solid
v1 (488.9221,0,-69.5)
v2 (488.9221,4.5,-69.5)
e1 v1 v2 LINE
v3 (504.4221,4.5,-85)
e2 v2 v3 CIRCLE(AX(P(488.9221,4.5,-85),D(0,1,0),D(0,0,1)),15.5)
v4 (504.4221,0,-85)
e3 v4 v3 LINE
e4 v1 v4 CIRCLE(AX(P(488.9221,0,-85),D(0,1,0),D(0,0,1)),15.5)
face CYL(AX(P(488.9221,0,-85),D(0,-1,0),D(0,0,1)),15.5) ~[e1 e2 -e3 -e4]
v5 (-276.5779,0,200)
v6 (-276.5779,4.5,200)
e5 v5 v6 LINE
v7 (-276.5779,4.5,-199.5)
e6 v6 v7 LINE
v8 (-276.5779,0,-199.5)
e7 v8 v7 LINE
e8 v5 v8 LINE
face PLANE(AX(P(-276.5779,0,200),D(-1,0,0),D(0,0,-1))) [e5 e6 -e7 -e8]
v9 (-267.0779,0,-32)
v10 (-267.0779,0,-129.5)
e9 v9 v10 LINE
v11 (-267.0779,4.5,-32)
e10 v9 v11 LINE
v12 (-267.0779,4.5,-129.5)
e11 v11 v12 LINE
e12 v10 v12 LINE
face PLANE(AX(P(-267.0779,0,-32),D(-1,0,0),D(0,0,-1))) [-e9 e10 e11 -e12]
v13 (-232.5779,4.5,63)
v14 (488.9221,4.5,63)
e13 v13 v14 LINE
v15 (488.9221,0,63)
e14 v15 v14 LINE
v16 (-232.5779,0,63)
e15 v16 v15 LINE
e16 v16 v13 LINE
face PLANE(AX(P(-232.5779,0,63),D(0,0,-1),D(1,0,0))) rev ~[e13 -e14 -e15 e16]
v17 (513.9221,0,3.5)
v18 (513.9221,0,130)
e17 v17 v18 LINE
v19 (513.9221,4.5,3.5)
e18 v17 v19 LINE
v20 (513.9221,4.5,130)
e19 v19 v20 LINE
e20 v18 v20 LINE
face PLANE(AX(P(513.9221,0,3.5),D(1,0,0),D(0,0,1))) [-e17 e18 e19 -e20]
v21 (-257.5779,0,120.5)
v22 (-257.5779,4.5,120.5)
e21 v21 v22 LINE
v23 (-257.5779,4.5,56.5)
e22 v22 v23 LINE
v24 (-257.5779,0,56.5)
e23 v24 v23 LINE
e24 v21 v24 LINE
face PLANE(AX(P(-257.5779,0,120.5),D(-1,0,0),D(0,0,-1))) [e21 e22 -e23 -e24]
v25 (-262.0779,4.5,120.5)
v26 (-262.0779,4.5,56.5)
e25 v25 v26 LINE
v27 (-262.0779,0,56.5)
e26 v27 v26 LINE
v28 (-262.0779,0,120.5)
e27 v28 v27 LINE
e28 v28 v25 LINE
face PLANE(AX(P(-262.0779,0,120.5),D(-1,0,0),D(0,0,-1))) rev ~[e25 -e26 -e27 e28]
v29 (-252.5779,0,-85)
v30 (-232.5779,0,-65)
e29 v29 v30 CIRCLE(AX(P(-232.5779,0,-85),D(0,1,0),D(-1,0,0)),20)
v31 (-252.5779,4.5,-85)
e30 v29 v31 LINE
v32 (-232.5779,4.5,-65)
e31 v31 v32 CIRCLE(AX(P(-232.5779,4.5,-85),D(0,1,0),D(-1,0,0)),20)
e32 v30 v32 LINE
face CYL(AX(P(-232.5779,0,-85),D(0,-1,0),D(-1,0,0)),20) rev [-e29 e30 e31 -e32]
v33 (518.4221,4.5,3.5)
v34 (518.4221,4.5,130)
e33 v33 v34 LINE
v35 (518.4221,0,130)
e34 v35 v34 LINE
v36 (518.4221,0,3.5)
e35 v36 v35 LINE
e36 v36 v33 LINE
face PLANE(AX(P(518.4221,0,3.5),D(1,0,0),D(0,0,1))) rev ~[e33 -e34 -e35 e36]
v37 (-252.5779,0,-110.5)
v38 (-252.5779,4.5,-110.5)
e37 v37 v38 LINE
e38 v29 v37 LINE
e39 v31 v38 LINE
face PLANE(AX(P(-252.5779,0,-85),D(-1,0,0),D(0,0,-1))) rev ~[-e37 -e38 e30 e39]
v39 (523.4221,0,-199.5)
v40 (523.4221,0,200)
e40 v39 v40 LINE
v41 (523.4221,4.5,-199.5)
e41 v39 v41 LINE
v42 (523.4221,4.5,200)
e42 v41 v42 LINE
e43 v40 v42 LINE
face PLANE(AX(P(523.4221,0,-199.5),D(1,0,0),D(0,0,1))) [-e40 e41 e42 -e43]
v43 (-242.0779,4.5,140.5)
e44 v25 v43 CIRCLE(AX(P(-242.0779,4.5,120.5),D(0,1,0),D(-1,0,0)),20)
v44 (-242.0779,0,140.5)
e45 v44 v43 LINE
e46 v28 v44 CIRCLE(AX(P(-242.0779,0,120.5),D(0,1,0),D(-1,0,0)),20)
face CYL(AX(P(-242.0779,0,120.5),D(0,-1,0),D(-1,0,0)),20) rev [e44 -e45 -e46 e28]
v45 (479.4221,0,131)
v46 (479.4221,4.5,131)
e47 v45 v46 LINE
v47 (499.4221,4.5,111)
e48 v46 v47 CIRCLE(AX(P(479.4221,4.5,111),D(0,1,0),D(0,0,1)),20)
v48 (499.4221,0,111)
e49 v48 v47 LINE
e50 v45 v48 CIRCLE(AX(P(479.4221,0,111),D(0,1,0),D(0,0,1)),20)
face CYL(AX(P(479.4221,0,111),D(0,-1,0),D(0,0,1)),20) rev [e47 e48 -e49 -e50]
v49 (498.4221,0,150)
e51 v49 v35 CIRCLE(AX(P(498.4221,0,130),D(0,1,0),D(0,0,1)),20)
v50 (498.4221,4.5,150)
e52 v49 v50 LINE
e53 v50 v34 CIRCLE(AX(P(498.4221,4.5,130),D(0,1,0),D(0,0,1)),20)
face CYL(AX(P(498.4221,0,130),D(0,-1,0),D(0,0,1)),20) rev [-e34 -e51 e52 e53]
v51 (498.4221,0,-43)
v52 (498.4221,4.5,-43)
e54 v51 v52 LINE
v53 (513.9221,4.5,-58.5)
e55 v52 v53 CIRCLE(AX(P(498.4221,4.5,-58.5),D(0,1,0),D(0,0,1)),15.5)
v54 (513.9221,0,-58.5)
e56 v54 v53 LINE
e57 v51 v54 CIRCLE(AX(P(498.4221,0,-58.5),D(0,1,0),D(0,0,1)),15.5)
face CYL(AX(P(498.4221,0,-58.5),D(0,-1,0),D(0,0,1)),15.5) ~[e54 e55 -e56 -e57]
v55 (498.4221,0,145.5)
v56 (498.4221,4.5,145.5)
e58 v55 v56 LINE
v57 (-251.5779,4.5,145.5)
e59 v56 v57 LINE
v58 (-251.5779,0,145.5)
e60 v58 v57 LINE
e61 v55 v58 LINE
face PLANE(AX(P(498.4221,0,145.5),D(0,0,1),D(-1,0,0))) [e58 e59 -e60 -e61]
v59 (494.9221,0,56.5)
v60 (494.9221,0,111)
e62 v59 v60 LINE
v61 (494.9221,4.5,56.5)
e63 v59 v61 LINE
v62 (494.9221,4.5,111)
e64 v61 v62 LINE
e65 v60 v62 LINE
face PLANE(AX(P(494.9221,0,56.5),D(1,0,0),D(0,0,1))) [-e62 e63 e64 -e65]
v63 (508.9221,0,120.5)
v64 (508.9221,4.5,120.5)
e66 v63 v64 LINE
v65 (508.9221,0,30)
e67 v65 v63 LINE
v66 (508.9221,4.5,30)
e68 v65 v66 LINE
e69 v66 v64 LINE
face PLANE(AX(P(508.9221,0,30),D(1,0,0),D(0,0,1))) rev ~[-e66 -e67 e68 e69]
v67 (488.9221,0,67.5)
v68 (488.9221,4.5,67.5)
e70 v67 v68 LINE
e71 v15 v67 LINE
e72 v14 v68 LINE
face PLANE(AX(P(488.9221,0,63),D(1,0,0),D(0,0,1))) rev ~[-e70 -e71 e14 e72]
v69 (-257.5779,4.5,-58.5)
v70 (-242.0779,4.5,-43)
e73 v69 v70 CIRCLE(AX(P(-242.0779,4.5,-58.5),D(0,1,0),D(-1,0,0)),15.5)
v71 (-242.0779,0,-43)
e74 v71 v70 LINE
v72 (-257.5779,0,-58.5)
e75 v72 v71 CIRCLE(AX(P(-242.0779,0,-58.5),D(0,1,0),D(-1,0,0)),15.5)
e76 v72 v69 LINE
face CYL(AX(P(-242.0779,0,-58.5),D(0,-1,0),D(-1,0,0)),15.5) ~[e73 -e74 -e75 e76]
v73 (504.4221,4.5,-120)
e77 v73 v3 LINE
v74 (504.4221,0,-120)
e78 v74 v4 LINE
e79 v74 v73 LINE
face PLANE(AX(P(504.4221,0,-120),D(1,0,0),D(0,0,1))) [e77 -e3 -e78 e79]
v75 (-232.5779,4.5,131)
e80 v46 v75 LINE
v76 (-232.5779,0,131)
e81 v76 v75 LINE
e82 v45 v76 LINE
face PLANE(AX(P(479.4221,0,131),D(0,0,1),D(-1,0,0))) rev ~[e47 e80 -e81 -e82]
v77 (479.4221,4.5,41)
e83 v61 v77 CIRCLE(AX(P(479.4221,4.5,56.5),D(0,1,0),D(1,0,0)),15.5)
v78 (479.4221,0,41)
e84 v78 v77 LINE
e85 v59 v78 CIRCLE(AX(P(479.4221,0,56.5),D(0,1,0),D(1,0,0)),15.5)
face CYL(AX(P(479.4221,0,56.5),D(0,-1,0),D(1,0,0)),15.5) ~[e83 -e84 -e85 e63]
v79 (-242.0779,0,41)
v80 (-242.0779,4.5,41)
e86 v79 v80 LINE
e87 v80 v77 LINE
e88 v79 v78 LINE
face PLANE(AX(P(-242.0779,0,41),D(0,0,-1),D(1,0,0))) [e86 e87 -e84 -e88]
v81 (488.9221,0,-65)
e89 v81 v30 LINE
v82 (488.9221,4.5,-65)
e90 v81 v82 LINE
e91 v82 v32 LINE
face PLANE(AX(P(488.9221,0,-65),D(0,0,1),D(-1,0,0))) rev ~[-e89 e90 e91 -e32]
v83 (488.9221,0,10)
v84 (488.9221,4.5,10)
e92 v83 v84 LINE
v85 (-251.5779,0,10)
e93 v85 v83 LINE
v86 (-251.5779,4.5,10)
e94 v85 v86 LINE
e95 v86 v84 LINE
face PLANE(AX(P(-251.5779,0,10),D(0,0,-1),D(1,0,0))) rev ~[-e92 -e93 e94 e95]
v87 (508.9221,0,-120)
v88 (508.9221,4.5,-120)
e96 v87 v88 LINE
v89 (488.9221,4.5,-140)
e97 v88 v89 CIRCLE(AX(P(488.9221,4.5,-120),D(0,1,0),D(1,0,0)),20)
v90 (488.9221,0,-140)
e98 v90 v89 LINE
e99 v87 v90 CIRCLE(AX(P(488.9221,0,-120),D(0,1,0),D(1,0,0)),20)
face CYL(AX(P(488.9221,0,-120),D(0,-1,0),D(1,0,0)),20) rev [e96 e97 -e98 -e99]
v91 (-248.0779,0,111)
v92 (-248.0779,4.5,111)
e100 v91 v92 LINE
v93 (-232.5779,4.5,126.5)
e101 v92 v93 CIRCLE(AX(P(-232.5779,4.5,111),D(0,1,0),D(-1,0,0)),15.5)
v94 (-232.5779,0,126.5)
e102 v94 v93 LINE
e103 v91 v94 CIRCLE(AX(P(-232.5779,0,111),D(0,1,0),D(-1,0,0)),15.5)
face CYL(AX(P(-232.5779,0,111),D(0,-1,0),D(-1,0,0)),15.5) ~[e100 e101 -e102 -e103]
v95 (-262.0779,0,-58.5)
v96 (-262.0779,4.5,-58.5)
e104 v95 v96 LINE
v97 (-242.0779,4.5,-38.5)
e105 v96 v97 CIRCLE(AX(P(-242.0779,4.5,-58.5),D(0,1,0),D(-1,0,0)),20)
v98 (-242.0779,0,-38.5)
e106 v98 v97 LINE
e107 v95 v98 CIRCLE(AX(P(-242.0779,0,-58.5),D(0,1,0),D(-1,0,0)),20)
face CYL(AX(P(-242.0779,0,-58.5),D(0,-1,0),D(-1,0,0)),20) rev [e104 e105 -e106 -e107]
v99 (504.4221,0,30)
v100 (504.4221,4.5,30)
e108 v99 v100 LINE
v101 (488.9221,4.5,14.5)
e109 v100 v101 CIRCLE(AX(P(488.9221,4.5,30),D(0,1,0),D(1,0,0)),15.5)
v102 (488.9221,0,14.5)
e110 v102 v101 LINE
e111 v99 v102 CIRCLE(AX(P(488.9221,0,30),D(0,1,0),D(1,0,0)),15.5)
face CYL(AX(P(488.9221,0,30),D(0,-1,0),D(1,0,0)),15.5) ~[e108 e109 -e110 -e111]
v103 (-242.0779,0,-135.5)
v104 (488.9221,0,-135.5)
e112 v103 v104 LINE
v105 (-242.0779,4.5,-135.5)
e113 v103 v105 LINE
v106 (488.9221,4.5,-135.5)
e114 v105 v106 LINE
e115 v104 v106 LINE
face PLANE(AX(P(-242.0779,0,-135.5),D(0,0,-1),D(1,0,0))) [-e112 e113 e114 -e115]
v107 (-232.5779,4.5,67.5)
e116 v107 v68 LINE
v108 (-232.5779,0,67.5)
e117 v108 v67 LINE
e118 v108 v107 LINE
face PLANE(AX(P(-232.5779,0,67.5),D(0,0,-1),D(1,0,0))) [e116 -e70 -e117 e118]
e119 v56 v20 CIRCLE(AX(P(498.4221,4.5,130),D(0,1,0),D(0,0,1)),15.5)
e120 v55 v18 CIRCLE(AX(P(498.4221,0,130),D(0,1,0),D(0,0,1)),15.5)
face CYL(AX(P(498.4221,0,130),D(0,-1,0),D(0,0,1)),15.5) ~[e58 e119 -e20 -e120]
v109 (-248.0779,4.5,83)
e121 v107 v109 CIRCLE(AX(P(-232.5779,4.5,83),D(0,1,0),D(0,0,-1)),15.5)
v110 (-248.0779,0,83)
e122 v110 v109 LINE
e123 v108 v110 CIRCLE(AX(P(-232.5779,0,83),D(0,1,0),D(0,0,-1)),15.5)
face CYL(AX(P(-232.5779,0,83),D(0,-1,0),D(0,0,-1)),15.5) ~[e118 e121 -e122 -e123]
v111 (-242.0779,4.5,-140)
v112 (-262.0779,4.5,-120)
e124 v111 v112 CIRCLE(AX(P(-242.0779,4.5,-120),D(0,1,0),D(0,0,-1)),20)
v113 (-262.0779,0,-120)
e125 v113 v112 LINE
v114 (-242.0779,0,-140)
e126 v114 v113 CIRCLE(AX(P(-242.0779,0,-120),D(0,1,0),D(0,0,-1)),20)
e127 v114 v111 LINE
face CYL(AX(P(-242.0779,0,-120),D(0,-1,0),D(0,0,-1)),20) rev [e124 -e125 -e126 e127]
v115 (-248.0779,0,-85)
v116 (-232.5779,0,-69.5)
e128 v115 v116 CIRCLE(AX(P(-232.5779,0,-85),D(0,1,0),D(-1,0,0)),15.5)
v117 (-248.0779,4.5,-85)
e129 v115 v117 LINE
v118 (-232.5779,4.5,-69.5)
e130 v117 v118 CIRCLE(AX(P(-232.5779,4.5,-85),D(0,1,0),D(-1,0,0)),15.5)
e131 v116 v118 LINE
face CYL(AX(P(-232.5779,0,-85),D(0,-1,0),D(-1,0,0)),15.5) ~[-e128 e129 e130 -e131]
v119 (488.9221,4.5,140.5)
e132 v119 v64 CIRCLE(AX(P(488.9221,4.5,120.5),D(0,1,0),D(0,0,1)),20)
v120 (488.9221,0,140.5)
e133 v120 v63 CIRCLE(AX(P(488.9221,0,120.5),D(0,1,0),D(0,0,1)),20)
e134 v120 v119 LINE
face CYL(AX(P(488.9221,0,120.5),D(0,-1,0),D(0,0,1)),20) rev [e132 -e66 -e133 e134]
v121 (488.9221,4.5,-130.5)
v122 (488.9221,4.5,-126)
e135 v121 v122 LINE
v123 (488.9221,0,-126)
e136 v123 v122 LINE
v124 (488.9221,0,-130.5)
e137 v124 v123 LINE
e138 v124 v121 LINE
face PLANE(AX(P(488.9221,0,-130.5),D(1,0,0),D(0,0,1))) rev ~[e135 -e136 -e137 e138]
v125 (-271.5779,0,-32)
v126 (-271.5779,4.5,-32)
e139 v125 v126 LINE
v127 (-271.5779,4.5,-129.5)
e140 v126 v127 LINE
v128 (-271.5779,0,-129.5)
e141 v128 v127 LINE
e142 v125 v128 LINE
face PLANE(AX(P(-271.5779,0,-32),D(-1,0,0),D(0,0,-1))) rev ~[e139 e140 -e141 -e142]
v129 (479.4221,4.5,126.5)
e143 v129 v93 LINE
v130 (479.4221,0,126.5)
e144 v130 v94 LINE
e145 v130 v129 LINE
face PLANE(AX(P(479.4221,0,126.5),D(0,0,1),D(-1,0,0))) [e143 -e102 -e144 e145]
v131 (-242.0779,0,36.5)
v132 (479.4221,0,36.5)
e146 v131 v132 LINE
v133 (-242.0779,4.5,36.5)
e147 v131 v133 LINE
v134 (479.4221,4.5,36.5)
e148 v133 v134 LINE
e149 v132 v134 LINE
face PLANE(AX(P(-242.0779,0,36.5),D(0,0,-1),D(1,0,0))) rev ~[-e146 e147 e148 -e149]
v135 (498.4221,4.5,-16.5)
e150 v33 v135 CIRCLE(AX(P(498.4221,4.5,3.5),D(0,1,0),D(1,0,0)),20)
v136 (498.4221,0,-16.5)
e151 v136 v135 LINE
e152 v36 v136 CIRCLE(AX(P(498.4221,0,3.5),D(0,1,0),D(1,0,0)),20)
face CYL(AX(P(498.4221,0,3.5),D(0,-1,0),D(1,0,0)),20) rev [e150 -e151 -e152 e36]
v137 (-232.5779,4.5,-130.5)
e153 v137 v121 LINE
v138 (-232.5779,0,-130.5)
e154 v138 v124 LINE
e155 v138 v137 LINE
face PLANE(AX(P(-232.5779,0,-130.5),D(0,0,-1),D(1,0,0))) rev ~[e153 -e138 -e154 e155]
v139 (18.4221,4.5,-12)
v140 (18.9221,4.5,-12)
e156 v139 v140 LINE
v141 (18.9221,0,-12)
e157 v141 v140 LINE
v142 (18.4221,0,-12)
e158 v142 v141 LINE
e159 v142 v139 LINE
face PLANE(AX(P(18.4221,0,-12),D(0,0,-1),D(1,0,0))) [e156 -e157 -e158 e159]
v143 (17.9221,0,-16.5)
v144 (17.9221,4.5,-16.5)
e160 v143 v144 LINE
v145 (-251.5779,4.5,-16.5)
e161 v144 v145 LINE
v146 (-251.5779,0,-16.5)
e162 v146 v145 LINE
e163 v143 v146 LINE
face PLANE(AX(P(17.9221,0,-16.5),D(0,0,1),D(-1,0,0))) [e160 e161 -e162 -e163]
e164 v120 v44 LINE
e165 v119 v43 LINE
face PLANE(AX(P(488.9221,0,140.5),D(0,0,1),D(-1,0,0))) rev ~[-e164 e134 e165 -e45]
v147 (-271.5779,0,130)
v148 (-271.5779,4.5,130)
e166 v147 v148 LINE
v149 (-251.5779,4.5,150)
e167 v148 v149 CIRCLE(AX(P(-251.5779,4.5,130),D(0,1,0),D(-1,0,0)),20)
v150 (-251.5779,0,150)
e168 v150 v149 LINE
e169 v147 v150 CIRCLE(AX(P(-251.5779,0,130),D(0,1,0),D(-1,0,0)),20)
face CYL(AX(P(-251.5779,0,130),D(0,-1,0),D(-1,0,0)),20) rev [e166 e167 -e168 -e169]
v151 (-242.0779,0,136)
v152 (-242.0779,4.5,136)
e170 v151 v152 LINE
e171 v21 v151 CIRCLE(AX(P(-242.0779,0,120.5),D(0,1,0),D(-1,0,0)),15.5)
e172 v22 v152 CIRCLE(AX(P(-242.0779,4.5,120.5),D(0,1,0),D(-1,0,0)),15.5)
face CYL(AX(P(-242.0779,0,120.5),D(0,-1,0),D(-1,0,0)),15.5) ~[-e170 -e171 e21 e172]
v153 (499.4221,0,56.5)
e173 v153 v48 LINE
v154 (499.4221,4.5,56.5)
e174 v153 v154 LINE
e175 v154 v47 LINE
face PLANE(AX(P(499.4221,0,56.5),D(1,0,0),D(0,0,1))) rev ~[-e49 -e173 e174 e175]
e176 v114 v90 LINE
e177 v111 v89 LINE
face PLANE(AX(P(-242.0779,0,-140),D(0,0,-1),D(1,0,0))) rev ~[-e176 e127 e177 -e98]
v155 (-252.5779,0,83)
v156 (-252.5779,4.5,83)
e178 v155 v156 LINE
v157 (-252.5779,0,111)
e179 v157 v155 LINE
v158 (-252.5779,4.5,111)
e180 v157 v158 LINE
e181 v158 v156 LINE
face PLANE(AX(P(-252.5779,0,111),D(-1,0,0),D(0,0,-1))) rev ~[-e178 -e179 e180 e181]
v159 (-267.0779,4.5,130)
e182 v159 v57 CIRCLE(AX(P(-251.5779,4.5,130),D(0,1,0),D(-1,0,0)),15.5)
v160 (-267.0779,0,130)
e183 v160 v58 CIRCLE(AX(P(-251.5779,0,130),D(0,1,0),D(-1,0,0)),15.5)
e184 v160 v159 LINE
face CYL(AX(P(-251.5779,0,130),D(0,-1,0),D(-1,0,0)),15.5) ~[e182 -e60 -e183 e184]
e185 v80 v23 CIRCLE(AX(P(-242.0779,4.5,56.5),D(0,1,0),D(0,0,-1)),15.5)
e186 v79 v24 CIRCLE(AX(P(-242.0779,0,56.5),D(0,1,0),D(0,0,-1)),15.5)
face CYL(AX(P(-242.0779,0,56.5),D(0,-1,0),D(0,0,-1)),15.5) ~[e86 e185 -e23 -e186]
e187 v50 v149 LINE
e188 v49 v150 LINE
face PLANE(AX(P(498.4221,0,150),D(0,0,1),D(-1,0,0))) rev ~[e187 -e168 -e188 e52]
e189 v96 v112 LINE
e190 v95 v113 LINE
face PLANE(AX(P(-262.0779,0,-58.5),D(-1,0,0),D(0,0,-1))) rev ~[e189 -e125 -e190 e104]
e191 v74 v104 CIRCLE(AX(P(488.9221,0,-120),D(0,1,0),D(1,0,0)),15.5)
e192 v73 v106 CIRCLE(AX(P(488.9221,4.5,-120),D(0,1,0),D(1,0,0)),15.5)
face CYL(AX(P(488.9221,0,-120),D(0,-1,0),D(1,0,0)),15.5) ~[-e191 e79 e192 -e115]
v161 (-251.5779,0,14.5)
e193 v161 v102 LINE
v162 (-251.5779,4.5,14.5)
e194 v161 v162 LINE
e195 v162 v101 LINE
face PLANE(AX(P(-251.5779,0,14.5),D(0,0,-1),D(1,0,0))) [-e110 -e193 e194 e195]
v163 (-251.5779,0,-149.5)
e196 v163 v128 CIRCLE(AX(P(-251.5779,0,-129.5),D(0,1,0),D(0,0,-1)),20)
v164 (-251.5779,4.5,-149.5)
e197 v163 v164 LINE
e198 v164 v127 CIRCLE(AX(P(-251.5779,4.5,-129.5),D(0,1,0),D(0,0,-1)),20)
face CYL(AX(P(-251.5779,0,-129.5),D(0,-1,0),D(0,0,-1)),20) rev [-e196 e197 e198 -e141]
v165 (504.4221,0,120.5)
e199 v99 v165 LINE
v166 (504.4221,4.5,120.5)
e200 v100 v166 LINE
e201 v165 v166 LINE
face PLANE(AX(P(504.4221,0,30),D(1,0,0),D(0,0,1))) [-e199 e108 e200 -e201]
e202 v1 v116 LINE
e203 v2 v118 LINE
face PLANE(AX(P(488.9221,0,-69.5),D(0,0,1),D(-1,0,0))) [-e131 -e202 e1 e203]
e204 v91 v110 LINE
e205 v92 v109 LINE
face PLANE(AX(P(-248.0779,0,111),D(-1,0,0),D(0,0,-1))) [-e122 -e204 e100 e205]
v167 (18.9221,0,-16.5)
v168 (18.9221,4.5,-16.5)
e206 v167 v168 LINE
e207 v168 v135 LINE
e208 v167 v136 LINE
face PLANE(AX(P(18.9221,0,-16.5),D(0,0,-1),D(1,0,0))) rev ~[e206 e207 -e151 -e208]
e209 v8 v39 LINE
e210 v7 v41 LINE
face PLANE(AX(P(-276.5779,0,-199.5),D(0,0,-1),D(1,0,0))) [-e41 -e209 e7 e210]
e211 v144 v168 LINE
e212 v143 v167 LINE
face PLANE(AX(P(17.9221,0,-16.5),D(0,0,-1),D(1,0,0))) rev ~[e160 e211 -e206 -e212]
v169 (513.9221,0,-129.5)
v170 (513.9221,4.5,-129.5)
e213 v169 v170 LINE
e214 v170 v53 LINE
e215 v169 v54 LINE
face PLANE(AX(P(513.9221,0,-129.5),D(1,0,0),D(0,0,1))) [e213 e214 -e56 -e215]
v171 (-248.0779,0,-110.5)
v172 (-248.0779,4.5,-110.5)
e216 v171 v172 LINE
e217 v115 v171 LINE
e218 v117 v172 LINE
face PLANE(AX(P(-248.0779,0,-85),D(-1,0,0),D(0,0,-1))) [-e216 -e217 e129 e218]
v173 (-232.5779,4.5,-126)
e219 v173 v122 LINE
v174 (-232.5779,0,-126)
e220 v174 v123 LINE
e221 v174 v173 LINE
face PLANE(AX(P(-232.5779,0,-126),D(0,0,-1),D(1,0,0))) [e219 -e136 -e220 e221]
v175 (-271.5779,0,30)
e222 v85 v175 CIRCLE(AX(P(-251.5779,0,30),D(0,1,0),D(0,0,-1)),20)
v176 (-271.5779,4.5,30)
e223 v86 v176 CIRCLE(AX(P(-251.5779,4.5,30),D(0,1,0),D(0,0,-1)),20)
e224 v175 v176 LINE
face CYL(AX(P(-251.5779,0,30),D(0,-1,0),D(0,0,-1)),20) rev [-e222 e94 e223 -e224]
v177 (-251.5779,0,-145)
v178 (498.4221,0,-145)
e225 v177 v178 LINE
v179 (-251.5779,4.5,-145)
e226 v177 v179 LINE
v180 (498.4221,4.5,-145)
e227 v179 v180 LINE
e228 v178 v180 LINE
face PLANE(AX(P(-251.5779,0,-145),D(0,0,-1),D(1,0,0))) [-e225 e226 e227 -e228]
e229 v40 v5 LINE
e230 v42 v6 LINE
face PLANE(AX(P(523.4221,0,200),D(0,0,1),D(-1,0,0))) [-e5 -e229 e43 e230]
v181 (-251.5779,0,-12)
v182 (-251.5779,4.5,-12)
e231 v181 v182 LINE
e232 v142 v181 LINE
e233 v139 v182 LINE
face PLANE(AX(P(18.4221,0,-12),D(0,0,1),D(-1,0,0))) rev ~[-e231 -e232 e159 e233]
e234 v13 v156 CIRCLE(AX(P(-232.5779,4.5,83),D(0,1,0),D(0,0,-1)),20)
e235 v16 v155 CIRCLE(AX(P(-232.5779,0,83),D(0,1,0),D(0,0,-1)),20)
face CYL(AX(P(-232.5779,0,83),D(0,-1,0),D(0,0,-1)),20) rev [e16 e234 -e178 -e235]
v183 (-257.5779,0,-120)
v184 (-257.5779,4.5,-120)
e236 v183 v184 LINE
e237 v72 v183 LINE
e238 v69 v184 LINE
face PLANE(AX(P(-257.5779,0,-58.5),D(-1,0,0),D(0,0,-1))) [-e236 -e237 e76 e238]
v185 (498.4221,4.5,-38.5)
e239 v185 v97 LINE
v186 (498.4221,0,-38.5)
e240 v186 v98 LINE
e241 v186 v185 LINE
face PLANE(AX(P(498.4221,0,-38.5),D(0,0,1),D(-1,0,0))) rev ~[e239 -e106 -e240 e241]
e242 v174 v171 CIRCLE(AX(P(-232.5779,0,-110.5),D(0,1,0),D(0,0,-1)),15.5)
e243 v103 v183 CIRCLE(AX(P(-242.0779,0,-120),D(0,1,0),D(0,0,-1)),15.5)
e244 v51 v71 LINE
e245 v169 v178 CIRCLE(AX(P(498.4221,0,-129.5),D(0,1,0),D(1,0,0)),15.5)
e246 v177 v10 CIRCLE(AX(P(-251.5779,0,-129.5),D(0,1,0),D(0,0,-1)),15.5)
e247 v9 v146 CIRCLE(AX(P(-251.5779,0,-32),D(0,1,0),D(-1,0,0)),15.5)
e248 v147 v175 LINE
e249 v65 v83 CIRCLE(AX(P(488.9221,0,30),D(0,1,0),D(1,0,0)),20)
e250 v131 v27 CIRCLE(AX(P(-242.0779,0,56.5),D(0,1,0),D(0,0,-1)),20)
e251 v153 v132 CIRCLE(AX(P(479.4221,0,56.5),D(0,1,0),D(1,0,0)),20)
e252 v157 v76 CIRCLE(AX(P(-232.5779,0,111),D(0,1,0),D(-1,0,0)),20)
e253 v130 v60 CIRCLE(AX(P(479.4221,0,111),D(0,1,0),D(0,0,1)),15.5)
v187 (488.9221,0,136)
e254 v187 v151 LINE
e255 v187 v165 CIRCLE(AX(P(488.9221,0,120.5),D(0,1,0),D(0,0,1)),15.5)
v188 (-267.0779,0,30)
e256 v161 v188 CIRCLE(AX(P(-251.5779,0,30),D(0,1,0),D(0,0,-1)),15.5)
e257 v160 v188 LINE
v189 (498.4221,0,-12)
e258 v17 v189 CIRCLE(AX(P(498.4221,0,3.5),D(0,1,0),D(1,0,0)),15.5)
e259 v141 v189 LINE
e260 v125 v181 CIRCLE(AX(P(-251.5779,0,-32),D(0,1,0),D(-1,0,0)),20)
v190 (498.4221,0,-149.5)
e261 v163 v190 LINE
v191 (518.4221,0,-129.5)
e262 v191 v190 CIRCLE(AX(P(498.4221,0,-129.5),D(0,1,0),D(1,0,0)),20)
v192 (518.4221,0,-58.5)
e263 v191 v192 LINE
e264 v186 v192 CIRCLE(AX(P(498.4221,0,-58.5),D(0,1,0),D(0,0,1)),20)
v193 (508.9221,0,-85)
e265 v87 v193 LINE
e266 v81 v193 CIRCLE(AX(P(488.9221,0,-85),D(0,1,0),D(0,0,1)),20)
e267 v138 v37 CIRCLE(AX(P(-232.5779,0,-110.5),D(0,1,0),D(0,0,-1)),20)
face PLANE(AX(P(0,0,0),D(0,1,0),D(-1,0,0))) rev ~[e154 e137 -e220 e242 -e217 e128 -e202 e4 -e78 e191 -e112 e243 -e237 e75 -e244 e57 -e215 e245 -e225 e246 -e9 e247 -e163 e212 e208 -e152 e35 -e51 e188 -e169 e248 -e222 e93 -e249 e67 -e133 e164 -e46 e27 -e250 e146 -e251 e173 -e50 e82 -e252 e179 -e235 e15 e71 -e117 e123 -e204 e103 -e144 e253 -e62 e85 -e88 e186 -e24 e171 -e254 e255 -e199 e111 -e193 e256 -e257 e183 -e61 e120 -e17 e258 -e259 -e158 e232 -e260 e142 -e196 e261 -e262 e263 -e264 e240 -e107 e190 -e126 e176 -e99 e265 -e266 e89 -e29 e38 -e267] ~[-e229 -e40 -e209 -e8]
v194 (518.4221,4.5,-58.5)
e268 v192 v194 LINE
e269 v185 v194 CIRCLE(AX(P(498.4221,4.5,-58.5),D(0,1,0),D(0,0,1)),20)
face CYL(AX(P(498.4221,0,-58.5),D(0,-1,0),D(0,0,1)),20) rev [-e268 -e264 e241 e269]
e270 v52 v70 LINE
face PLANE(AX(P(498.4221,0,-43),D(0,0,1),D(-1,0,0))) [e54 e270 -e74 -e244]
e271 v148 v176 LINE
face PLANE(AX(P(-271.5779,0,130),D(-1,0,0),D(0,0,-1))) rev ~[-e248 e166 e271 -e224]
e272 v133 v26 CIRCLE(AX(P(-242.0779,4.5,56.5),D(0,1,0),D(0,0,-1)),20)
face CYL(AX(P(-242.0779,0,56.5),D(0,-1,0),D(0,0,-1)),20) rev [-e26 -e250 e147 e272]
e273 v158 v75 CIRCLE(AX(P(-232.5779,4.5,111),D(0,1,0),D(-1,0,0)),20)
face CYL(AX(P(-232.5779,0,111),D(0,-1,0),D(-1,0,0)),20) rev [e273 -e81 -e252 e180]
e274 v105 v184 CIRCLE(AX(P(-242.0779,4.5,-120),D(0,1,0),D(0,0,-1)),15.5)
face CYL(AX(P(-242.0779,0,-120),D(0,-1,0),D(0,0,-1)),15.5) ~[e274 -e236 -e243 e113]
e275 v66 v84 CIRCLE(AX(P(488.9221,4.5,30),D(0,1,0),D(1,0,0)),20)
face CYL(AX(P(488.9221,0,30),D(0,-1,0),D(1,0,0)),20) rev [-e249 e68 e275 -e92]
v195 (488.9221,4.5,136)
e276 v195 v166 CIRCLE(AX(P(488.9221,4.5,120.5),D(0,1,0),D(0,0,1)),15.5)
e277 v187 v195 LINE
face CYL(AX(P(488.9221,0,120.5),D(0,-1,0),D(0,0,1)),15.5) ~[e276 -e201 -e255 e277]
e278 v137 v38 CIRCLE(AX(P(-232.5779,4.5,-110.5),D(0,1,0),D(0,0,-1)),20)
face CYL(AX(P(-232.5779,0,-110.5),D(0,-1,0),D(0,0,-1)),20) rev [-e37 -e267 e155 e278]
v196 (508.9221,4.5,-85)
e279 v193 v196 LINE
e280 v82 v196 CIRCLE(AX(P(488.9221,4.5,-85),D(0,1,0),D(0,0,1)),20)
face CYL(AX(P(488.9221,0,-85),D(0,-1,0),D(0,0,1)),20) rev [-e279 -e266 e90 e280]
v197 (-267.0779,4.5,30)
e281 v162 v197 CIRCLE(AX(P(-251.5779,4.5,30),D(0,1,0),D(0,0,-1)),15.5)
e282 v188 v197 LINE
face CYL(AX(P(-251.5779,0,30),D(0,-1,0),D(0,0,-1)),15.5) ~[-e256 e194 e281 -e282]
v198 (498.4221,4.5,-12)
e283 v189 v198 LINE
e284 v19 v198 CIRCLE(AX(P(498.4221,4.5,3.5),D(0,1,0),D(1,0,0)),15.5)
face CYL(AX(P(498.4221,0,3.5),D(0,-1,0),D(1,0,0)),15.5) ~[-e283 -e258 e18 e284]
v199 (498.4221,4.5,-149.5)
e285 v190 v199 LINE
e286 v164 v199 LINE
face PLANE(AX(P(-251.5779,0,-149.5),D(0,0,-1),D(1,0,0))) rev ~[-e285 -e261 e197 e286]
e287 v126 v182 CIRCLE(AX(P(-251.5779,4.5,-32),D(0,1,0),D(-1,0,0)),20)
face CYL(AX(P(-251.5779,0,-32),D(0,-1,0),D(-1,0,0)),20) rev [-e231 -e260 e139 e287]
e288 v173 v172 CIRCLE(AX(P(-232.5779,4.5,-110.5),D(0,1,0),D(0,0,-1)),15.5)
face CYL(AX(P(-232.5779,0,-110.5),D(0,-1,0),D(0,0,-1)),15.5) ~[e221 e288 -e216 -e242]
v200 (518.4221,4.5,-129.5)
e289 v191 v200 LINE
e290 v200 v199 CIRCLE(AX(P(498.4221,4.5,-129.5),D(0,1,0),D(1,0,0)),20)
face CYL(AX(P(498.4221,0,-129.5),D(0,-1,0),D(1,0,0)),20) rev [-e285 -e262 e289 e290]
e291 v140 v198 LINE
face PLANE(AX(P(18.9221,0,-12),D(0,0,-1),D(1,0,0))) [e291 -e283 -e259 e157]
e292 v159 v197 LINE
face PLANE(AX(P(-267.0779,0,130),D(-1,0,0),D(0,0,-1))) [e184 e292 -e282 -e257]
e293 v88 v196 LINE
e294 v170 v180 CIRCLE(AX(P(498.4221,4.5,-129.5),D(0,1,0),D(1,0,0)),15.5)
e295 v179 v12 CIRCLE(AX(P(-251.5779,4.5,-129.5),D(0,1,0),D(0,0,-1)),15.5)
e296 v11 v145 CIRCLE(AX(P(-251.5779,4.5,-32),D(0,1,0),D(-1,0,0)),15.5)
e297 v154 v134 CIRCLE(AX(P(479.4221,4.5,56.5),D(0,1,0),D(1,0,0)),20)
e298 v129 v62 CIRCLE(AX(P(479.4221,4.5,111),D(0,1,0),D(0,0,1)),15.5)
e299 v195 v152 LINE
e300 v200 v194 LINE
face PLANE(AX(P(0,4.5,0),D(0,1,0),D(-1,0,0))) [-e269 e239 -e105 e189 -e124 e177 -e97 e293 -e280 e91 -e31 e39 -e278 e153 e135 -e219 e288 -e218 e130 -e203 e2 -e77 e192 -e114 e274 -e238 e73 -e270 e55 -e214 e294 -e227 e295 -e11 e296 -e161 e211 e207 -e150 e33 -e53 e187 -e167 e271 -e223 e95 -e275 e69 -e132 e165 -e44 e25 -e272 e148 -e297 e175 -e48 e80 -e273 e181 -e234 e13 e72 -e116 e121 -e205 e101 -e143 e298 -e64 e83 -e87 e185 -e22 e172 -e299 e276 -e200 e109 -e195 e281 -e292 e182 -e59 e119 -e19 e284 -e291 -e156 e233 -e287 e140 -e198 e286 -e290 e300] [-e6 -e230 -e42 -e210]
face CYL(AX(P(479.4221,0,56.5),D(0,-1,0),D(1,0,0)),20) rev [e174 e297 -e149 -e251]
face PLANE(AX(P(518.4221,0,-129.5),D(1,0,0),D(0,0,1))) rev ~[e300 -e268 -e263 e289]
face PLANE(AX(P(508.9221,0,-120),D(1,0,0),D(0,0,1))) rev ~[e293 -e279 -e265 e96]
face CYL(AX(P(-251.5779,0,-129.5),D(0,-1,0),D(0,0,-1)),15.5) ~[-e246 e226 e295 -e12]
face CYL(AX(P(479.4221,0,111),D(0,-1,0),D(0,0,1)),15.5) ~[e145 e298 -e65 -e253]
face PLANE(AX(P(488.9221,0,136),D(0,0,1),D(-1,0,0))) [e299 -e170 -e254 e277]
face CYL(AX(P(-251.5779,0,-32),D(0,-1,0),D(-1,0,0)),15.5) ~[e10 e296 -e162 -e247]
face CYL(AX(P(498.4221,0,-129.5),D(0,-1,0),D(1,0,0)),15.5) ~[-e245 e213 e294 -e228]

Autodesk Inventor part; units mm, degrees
ref_plane "YZ Plane" through (0, 0, 0) normal (1, 0, 0) x (0, 1, 0)
ref_plane "XZ Plane" through (0, 0, 0) normal (0, 1, 0) x (-1, 0, 0)
ref_plane "XY Plane" through (0, 0, 0) normal (0, 0, 1) x (1, 0, 0)
sketch "Sketch1" plane through (0, 0, 0) normal (0, 1, 0) x (-1, 0, 0)
  line L0 (-17.9221, -16.5) -> (-498.4221, -16.5)
  line L1 (-518.4221, 3.5) -> (-518.4221, 130)
  line L2 (-498.4221, 150) -> (251.5779, 150)
  line L3 (271.5779, 130) -> (271.5779, 30)
  line L4 (-18.4221, -12) -> (-498.4221, -12)
  line L5 (-513.9221, 3.5) -> (-513.9221, 130)
  line L6 (-498.4221, 145.5) -> (251.5779, 145.5)
  line L7 (267.0779, 130) -> (267.0779, 30)
  line L8 (251.5779, 14.5) -> (-488.9221, 14.5)
  line L9 (-504.4221, 30) -> (-504.4221, 120.5)
  line L10 (251.5779, 10) -> (-488.9221, 10)
  line L11 (-508.9221, 30) -> (-508.9221, 120.5)
  line L12 (-488.9221, 136) -> (242.0779, 136)
  line L13 (-488.9221, 140.5) -> (242.0779, 140.5)
  line L14 (257.5779, 120.5) -> (257.5779, 56.5)
  line L15 (242.0779, 41) -> (-479.4221, 41)
  line L16 (262.0779, 120.5) -> (262.0779, 56.5)
  line L17 (242.0779, 36.5) -> (-479.4221, 36.5)
  line L18 (-494.9221, 56.5) -> (-494.9221, 111)
  line L19 (-479.4221, 126.5) -> (232.5779, 126.5)
  line L20 (248.0779, 111) -> (248.0779, 83)
  line L21 (232.5779, 67.5) -> (-488.9221, 67.5)
  line L22 (-499.4221, 56.5) -> (-499.4221, 111)
  line L23 (-479.4221, 131) -> (232.5779, 131)
  line L24 (252.5779, 111) -> (252.5779, 83)
  line L25 (232.5779, 63) -> (-488.9221, 63)
  line L26 (-122.9221, 150) -> (-122.9221, -150) construction
  line L27 (-18.9221, -12) -> (251.5779, -12)
  line L28 (271.5779, -32) -> (271.5779, -129.5)
  line L29 (251.5779, -149.5) -> (-498.4221, -149.5)
  line L30 (-518.4221, -129.5) -> (-518.4221, -58.5)
  line L31 (-18.9221, -16.5) -> (251.5779, -16.5)
  line L32 (267.0779, -32) -> (267.0779, -129.5)
  line L33 (251.5779, -145) -> (-498.4221, -145)
  line L34 (-498.4221, -38.5) -> (242.0779, -38.5)
  line L35 (262.0779, -58.5) -> (262.0779, -120)
  line L36 (242.0779, -140) -> (-488.9221, -140)
  line L37 (-513.9221, -129.5) -> (-513.9221, -58.5)
  line L38 (-498.4221, -43) -> (242.0779, -43)
  line L39 (257.5779, -58.5) -> (257.5779, -120)
  line L40 (242.0779, -135.5) -> (-488.9221, -135.5)
  line L41 (-504.4221, -120) -> (-504.4221, -85)
  line L42 (-508.9221, -120) -> (-508.9221, -85)
  line L43 (-488.9221, -65) -> (232.5779, -65)
  line L44 (252.5779, -85) -> (252.5779, -110.5)
  line L45 (-488.9221, -69.5) -> (232.5779, -69.5)
  line L46 (248.0779, -85) -> (248.0779, -110.5)
  line L47 (232.5779, -126) -> (-488.9221, -126)
  line L48 (232.5779, -130.5) -> (-488.9221, -130.5)
  line L49 (276.5779, 200.5) -> (276.5779, -199.5)
  line L50 (276.5779, -199.5) -> (-523.4221, -199.5)
  line L51 (-523.4221, -199.5) -> (-523.4221, 200)
  line L52 (-523.4221, 200) -> (276.5779, 200)
  line L53 (276.5779, 200) -> (276.5779, -199.5)
  arc A0 (251.5779, -149.5) -> (271.5779, -129.5) centre (251.5779, -129.5) ccw
  arc A1 (251.5779, -145) -> (267.0779, -129.5) centre (251.5779, -129.5) ccw
  arc A2 (242.0779, -135.5) -> (257.5779, -120) centre (242.0779, -120) ccw
  arc A3 (242.0779, -140) -> (262.0779, -120) centre (242.0779, -120) ccw
  arc A4 (232.5779, -130.5) -> (252.5779, -110.5) centre (232.5779, -110.5) ccw
  arc A5 (232.5779, -126) -> (248.0779, -110.5) centre (232.5779, -110.5) ccw
  arc A6 (248.0779, -85) -> (232.5779, -69.5) centre (232.5779, -85) ccw
  arc A7 (252.5779, -85) -> (232.5779, -65) centre (232.5779, -85) ccw
  line L54 (266.0656, -58.5) -> (242.0779, -58.5) construction
  line L55 (242.0779, -58.5) -> (242.0779, -27) construction
  arc A8 (257.5779, -58.5) -> (242.0779, -43) centre (242.0779, -58.5) ccw
  arc A9 (262.0779, -58.5) -> (242.0779, -38.5) centre (242.0779, -58.5) ccw
  line L56 (251.5779, -3.7302) -> (251.5779, -32) construction
  line L57 (251.5779, -32) -> (272.6377, -32) construction
  arc A10 (267.0779, -32) -> (251.5779, -16.5) centre (251.5779, -32) ccw
  arc A11 (271.5779, -32) -> (251.5779, -12) centre (251.5779, -32) ccw
  arc A12 (-518.4221, -129.5) -> (-498.4221, -149.5) centre (-498.4221, -129.5) ccw
  arc A13 (-513.9221, -129.5) -> (-498.4221, -145) centre (-498.4221, -129.5) ccw
  arc A14 (-508.9221, -120) -> (-488.9221, -140) centre (-488.9221, -120) ccw
  line L58 (-488.9221, -130.5) -> (-488.9221, -126)
  arc A15 (-504.4221, -120) -> (-488.9221, -135.5) centre (-488.9221, -120) ccw
  arc A16 (-488.9221, -65) -> (-508.9221, -85) centre (-488.9221, -85) ccw
  arc A17 (-488.9221, -69.5) -> (-504.4221, -85) centre (-488.9221, -85) ccw
  arc A18 (-498.4221, -43) -> (-513.9221, -58.5) centre (-498.4221, -58.5) ccw
  arc A19 (-498.4221, -38.5) -> (-518.4221, -58.5) centre (-498.4221, -58.5) ccw
  line L59 (-488.9221, 63) -> (-488.9221, 67.5)
  arc A20 (-518.4221, 3.5) -> (-498.4221, -16.5) centre (-498.4221, 3.5) ccw
  arc A21 (-513.9221, 3.5) -> (-498.4221, -12) centre (-498.4221, 3.5) ccw
  arc A22 (-508.9221, 30) -> (-488.9221, 10) centre (-488.9221, 30) ccw
  arc A23 (-504.4221, 30) -> (-488.9221, 14.5) centre (-488.9221, 30) ccw
  arc A24 (-499.4221, 56.5) -> (-479.4221, 36.5) centre (-479.4221, 56.5) ccw
  arc A25 (-494.9221, 56.5) -> (-479.4221, 41) centre (-479.4221, 56.5) ccw
  arc A26 (-479.4221, 126.5) -> (-494.9221, 111) centre (-479.4221, 111) ccw
  arc A27 (-479.4221, 131) -> (-499.4221, 111) centre (-479.4221, 111) ccw
  arc A28 (-488.9221, 136) -> (-504.4221, 120.5) centre (-488.9221, 120.5) ccw
  arc A29 (-488.9221, 140.5) -> (-508.9221, 120.5) centre (-488.9221, 120.5) ccw
  arc A30 (-498.4221, 145.5) -> (-513.9221, 130) centre (-498.4221, 130) ccw
  arc A31 (-498.4221, 150) -> (-518.4221, 130) centre (-498.4221, 130) ccw
  arc A32 (251.5779, 10) -> (271.5779, 30) centre (251.5779, 30) ccw
  arc A33 (251.5779, 14.5) -> (267.0779, 30) centre (251.5779, 30) ccw
  arc A34 (242.0779, 41) -> (257.5779, 56.5) centre (242.0779, 56.5) ccw
  arc A35 (242.0779, 36.5) -> (262.0779, 56.5) centre (242.0779, 56.5) ccw
  arc A36 (232.5779, 63) -> (252.5779, 83) centre (232.5779, 83) ccw
  arc A37 (232.5779, 67.5) -> (248.0779, 83) centre (232.5779, 83) ccw
  arc A38 (248.0779, 111) -> (232.5779, 126.5) centre (232.5779, 111) ccw
  arc A39 (252.5779, 111) -> (232.5779, 131) centre (232.5779, 111) ccw
  arc A40 (257.5779, 120.5) -> (242.0779, 136) centre (242.0779, 120.5) ccw
  arc A41 (262.0779, 120.5) -> (242.0779, 140.5) centre (242.0779, 120.5) ccw
  arc A42 (267.0779, 130) -> (251.5779, 145.5) centre (251.5779, 130) ccw
  arc A43 (271.5779, 130) -> (251.5779, 150) centre (251.5779, 130) ccw
  point P0 (-228.4221, 0)
  point P1 (276.5779, 200)
  point P2 (257.5779, -126)
  dimension "d2" = 4.5
  dimension "d3" = 4.5
  dimension "d4" = 4.5
  dimension "d5" = 5
  dimension "d6" = 5
  dimension "d7" = 4.5
  dimension "d8" = 4.5
  dimension "d9" = 4.5
  dimension "d10" = 5
  dimension "d11" = 790
  dimension "d12" = 22
  dimension "d13" = 4.5
  dimension "d14" = 4.5
  dimension "d15" = 22
  dimension "d16" = 5
  dimension "d17" = 5
  dimension "d18" = 4.5
  dimension "d19" = 5
  dimension "d20" = 22
  dimension "d21" = 4.5
  dimension "d22" = 4.5
  dimension "d23" = 4.5
  dimension "d30" = 4.5
  dimension "d31" = 4.5
  dimension "d32" = 4.5
  dimension "d34" = 500
  dimension "d35" = 4.5
  dimension "d36" = 4.5
  dimension "d38" = 4.5
  dimension "d39" = 22
  dimension "d40" = 4.5
  dimension "d41" = 5
  dimension "d42" = 4.5
  dimension "d43" = 4.5
  dimension "d44" = 4.5
  dimension "d46" = 22
  dimension "d47" = 5
  dimension "d48" = 4.5
  dimension "d49" = 5
  dimension "d63" = 400
  dimension "d64" = 50
  dimension "d65" = 5
  dimension "d68" = 5
  dimension "d80" = 4.5
  dimension "d81" = 0
  dimension "d103" = 5
extrude "Extrusion3" add sketch "Sketch1" along normal blind 4.5
sketch "Sketch2" plane through (0, 4.5, 0) normal (0, 1, 0) x (1, 0, 0)
  circle A0 centre (373.4204, -170.5) radius 4
  circle A1 centre (473.4246, -170.5) radius 4
  circle A2 centre (-226.5779, -170.5) radius 4
  circle A3 centre (-128.1236, -170.5) radius 4
  circle A4 centre (-28.1236, -170.5) radius 4
  circle A5 centre (71.8764, -170.5) radius 4
  circle A6 centre (171.8764, -170.5) radius 4
  circle A7 centre (271.8764, -170.5) radius 4
  line L0 (373.4204, -170.5) -> (473.4246, -170.5) construction
  line L1 (473.4246, -170.5) -> (523.4221, -170.5) construction
  line L2 (-226.5779, -170.5) -> (-276.5779, -170.5) construction
  line L3 (-226.5779, -170.5) -> (373.4204, -170.5) construction
  line L4 (-108.1236, -175.5) -> (-108.1236, -172)
  line L5 (-108.1236, -172) -> (-48.1236, -172)
  line L6 (-48.1236, -172) -> (-48.1236, -175.5)
  line L7 (-48.1236, -175.5) -> (-108.1236, -175.5)
  line L8 (351.8764, -175.5) -> (351.8764, -172)
  line L9 (351.8764, -172) -> (291.8764, -172)
  line L10 (291.8764, -172) -> (291.8764, -175.5)
  line L11 (291.8764, -175.5) -> (351.8764, -175.5)
  line L12 (151.8764, -175.5) -> (151.8764, -172)
  line L13 (151.8764, -172) -> (91.8764, -172)
  line L14 (91.8764, -172) -> (91.8764, -175.5)
  line L15 (91.8764, -175.5) -> (151.8764, -175.5)
  line L16 (190.1572, -175.5) -> (190.1572, -172)
  line L17 (190.1572, -172) -> (250.1572, -172)
  line L18 (250.1572, -172) -> (250.1572, -175.5)
  line L19 (250.1572, -175.5) -> (190.1572, -175.5)
  line L20 (-8.1236, -175.5) -> (-8.1236, -172)
  line L21 (-8.1236, -172) -> (51.8764, -172)
  line L22 (51.8764, -172) -> (51.8764, -175.5)
  line L23 (51.8764, -175.5) -> (-8.1236, -175.5)
  line L24 (-206.5779, -175.5) -> (-206.5779, -172)
  line L25 (-206.5779, -172) -> (-146.5779, -172)
  line L26 (-146.5779, -172) -> (-146.5779, -175.5)
  line L27 (-146.5779, -175.5) -> (-206.5779, -175.5)
  line L28 (393.4204, -172) -> (393.4204, -175.5)
  line L29 (393.4204, -175.5) -> (453.4204, -175.5)
  line L30 (453.4204, -175.5) -> (453.4204, -172)
  line L31 (453.4204, -172) -> (393.4204, -172)
  line L32 (493.4246, -172) -> (493.4246, -175.5)
  line L33 (493.4246, -175.5) -> (523.4221, -175.5)
  line L34 (523.4221, -172) -> (493.4246, -172)
  line L35 (-276.5779, -172) -> (-246.5779, -172)
  line L36 (-246.5779, -172) -> (-246.5779, -175.5)
  line L37 (-246.5779, -175.5) -> (-276.5779, -175.5)
  line L38 (-146.5779, 171) -> (-146.5779, 174.5)
  line L39 (-206.5779, 171) -> (-146.5779, 171)
  circle A8 centre (-128.1236, 169.5) radius 4
  line L40 (-48.1236, 171) -> (-48.1236, 174.5)
  line L41 (-48.1236, 174.5) -> (-108.1236, 174.5)
  circle A9 centre (-28.1236, 169.5) radius 4
  line L42 (-8.1236, 174.5) -> (-8.1236, 171)
  line L43 (-8.1236, 171) -> (51.8764, 171)
  line L44 (-226.5779, 169.5) -> (373.4204, 169.5) construction
  line L45 (51.8764, 174.5) -> (-8.1236, 174.5)
  line L46 (51.8764, 171) -> (51.8764, 174.5)
  line L47 (-108.1236, 171) -> (-48.1236, 171)
  circle A10 centre (-226.5779, 169.5) radius 4
  line L48 (-108.1236, 174.5) -> (-108.1236, 171)
  line L49 (-146.5779, 174.5) -> (-206.5779, 174.5)
  circle A11 centre (71.8764, 169.5) radius 4
  circle A12 centre (171.8764, 169.5) radius 4
  circle A13 centre (373.4204, 169.5) radius 4
  circle A14 centre (473.4246, 169.5) radius 4
  circle A15 centre (271.8764, 169.5) radius 4
  line L50 (250.1572, 171) -> (250.1572, 174.5)
  line L51 (190.1572, 171) -> (250.1572, 171)
  line L52 (250.1572, 174.5) -> (190.1572, 174.5)
  line L53 (190.1572, 174.5) -> (190.1572, 171)
  line L54 (151.8764, 174.5) -> (151.8764, 171)
  line L55 (151.8764, 171) -> (91.8764, 171)
  line L56 (91.8764, 174.5) -> (151.8764, 174.5)
  line L57 (91.8764, 171) -> (91.8764, 174.5)
  line L58 (-226.5779, 169.5) -> (-276.5779, 169.5) construction
  line L59 (-206.5779, 174.5) -> (-206.5779, 171)
  line L60 (-246.5779, 171) -> (-246.5779, 174.5)
  line L61 (-276.5779, 171) -> (-246.5779, 171)
  line L62 (-246.5779, 174.5) -> (-276.5779, 174.5)
  line L63 (373.4204, 169.5) -> (473.4246, 169.5) construction
  line L64 (473.4246, 169.5) -> (523.4221, 169.5) construction
  line L65 (351.8764, 174.5) -> (351.8764, 171)
  line L66 (351.8764, 171) -> (291.8764, 171)
  line L67 (291.8764, 171) -> (291.8764, 174.5)
  line L68 (291.8764, 174.5) -> (351.8764, 174.5)
  line L69 (393.4204, 171) -> (393.4204, 174.5)
  line L70 (393.4204, 174.5) -> (453.4204, 174.5)
  line L71 (453.4204, 174.5) -> (453.4204, 171)
  line L72 (493.4246, 171) -> (493.4246, 174.5)
  line L73 (493.4246, 174.5) -> (523.4221, 174.5)
  line L74 (523.4221, 171) -> (493.4246, 171)
  line L75 (453.4204, 171) -> (393.4204, 171)
  line L76 (-276.5779, 199.5) -> (-276.5779, -200) construction
  line L77 (-276.5779, 199.5) -> (-246.6531, 199.5) construction
  line L78 (-246.6531, 199.5) -> (-246.6531, 174.5) construction
  line L79 (-246.6531, 174.5) -> (-276.5779, 174.5) construction
  line L80 (-276.5779, 174.5) -> (-276.5779, 199.5) construction
  dimension "d166" = 3.5
  dimension "d167" = 60
  dimension "d168" = 20
  dimension "d169" = 3.5
  dimension "d170" = 3.5
  dimension "d171" = 20
  dimension "d172" = 20
  dimension "d173" = 60
  dimension "d174" = 60
  dimension "d175" = 3.5
  dimension "d176" = 18.2808
  dimension "d177" = 60
  dimension "d178" = 3.5
  dimension "d179" = 20
  dimension "d180" = 60
  dimension "d181" = 3.5
  dimension "d182" = 60
  dimension "d183" = 20
  dimension "d184" = 3.5
  dimension "d185" = 20
  dimension "d186" = 60
  dimension "d187" = 3.5
  dimension "d188" = 20
  dimension "d189" = 3.5
  dimension "d190" = 20
  dimension "d191" = 25
equation "\"d6\" = d26"
equation "\"d10\" = d26"
equation "\"d15\" = d28"
equation "\"d16\" = d26"
equation "\"d19\" = d25"
equation "\"d20\" = d28"
equation "\"d34\" = 0.5 * d52"
equation "\"d41\" = d53"
equation "\"d46\" = d54"
equation "\"d47\" = d53"
equation "\"d49\" = d53"
equation "\"d25\" = 5"
equation "\"d26\" = 5"
equation "\"d28\" = -1.2 * d25 + 0.2 * d29"
equation "\"d51\" = 5"
equation "\"d53\" = 5"
equation "\"d54\" = -1.2 * d51 + 0.2 * d55"
equation "\"d29\" = 140"
equation "\"d55\" = 140"
equation "\"d52\" = 1000"
properties part number "coil_layer"
